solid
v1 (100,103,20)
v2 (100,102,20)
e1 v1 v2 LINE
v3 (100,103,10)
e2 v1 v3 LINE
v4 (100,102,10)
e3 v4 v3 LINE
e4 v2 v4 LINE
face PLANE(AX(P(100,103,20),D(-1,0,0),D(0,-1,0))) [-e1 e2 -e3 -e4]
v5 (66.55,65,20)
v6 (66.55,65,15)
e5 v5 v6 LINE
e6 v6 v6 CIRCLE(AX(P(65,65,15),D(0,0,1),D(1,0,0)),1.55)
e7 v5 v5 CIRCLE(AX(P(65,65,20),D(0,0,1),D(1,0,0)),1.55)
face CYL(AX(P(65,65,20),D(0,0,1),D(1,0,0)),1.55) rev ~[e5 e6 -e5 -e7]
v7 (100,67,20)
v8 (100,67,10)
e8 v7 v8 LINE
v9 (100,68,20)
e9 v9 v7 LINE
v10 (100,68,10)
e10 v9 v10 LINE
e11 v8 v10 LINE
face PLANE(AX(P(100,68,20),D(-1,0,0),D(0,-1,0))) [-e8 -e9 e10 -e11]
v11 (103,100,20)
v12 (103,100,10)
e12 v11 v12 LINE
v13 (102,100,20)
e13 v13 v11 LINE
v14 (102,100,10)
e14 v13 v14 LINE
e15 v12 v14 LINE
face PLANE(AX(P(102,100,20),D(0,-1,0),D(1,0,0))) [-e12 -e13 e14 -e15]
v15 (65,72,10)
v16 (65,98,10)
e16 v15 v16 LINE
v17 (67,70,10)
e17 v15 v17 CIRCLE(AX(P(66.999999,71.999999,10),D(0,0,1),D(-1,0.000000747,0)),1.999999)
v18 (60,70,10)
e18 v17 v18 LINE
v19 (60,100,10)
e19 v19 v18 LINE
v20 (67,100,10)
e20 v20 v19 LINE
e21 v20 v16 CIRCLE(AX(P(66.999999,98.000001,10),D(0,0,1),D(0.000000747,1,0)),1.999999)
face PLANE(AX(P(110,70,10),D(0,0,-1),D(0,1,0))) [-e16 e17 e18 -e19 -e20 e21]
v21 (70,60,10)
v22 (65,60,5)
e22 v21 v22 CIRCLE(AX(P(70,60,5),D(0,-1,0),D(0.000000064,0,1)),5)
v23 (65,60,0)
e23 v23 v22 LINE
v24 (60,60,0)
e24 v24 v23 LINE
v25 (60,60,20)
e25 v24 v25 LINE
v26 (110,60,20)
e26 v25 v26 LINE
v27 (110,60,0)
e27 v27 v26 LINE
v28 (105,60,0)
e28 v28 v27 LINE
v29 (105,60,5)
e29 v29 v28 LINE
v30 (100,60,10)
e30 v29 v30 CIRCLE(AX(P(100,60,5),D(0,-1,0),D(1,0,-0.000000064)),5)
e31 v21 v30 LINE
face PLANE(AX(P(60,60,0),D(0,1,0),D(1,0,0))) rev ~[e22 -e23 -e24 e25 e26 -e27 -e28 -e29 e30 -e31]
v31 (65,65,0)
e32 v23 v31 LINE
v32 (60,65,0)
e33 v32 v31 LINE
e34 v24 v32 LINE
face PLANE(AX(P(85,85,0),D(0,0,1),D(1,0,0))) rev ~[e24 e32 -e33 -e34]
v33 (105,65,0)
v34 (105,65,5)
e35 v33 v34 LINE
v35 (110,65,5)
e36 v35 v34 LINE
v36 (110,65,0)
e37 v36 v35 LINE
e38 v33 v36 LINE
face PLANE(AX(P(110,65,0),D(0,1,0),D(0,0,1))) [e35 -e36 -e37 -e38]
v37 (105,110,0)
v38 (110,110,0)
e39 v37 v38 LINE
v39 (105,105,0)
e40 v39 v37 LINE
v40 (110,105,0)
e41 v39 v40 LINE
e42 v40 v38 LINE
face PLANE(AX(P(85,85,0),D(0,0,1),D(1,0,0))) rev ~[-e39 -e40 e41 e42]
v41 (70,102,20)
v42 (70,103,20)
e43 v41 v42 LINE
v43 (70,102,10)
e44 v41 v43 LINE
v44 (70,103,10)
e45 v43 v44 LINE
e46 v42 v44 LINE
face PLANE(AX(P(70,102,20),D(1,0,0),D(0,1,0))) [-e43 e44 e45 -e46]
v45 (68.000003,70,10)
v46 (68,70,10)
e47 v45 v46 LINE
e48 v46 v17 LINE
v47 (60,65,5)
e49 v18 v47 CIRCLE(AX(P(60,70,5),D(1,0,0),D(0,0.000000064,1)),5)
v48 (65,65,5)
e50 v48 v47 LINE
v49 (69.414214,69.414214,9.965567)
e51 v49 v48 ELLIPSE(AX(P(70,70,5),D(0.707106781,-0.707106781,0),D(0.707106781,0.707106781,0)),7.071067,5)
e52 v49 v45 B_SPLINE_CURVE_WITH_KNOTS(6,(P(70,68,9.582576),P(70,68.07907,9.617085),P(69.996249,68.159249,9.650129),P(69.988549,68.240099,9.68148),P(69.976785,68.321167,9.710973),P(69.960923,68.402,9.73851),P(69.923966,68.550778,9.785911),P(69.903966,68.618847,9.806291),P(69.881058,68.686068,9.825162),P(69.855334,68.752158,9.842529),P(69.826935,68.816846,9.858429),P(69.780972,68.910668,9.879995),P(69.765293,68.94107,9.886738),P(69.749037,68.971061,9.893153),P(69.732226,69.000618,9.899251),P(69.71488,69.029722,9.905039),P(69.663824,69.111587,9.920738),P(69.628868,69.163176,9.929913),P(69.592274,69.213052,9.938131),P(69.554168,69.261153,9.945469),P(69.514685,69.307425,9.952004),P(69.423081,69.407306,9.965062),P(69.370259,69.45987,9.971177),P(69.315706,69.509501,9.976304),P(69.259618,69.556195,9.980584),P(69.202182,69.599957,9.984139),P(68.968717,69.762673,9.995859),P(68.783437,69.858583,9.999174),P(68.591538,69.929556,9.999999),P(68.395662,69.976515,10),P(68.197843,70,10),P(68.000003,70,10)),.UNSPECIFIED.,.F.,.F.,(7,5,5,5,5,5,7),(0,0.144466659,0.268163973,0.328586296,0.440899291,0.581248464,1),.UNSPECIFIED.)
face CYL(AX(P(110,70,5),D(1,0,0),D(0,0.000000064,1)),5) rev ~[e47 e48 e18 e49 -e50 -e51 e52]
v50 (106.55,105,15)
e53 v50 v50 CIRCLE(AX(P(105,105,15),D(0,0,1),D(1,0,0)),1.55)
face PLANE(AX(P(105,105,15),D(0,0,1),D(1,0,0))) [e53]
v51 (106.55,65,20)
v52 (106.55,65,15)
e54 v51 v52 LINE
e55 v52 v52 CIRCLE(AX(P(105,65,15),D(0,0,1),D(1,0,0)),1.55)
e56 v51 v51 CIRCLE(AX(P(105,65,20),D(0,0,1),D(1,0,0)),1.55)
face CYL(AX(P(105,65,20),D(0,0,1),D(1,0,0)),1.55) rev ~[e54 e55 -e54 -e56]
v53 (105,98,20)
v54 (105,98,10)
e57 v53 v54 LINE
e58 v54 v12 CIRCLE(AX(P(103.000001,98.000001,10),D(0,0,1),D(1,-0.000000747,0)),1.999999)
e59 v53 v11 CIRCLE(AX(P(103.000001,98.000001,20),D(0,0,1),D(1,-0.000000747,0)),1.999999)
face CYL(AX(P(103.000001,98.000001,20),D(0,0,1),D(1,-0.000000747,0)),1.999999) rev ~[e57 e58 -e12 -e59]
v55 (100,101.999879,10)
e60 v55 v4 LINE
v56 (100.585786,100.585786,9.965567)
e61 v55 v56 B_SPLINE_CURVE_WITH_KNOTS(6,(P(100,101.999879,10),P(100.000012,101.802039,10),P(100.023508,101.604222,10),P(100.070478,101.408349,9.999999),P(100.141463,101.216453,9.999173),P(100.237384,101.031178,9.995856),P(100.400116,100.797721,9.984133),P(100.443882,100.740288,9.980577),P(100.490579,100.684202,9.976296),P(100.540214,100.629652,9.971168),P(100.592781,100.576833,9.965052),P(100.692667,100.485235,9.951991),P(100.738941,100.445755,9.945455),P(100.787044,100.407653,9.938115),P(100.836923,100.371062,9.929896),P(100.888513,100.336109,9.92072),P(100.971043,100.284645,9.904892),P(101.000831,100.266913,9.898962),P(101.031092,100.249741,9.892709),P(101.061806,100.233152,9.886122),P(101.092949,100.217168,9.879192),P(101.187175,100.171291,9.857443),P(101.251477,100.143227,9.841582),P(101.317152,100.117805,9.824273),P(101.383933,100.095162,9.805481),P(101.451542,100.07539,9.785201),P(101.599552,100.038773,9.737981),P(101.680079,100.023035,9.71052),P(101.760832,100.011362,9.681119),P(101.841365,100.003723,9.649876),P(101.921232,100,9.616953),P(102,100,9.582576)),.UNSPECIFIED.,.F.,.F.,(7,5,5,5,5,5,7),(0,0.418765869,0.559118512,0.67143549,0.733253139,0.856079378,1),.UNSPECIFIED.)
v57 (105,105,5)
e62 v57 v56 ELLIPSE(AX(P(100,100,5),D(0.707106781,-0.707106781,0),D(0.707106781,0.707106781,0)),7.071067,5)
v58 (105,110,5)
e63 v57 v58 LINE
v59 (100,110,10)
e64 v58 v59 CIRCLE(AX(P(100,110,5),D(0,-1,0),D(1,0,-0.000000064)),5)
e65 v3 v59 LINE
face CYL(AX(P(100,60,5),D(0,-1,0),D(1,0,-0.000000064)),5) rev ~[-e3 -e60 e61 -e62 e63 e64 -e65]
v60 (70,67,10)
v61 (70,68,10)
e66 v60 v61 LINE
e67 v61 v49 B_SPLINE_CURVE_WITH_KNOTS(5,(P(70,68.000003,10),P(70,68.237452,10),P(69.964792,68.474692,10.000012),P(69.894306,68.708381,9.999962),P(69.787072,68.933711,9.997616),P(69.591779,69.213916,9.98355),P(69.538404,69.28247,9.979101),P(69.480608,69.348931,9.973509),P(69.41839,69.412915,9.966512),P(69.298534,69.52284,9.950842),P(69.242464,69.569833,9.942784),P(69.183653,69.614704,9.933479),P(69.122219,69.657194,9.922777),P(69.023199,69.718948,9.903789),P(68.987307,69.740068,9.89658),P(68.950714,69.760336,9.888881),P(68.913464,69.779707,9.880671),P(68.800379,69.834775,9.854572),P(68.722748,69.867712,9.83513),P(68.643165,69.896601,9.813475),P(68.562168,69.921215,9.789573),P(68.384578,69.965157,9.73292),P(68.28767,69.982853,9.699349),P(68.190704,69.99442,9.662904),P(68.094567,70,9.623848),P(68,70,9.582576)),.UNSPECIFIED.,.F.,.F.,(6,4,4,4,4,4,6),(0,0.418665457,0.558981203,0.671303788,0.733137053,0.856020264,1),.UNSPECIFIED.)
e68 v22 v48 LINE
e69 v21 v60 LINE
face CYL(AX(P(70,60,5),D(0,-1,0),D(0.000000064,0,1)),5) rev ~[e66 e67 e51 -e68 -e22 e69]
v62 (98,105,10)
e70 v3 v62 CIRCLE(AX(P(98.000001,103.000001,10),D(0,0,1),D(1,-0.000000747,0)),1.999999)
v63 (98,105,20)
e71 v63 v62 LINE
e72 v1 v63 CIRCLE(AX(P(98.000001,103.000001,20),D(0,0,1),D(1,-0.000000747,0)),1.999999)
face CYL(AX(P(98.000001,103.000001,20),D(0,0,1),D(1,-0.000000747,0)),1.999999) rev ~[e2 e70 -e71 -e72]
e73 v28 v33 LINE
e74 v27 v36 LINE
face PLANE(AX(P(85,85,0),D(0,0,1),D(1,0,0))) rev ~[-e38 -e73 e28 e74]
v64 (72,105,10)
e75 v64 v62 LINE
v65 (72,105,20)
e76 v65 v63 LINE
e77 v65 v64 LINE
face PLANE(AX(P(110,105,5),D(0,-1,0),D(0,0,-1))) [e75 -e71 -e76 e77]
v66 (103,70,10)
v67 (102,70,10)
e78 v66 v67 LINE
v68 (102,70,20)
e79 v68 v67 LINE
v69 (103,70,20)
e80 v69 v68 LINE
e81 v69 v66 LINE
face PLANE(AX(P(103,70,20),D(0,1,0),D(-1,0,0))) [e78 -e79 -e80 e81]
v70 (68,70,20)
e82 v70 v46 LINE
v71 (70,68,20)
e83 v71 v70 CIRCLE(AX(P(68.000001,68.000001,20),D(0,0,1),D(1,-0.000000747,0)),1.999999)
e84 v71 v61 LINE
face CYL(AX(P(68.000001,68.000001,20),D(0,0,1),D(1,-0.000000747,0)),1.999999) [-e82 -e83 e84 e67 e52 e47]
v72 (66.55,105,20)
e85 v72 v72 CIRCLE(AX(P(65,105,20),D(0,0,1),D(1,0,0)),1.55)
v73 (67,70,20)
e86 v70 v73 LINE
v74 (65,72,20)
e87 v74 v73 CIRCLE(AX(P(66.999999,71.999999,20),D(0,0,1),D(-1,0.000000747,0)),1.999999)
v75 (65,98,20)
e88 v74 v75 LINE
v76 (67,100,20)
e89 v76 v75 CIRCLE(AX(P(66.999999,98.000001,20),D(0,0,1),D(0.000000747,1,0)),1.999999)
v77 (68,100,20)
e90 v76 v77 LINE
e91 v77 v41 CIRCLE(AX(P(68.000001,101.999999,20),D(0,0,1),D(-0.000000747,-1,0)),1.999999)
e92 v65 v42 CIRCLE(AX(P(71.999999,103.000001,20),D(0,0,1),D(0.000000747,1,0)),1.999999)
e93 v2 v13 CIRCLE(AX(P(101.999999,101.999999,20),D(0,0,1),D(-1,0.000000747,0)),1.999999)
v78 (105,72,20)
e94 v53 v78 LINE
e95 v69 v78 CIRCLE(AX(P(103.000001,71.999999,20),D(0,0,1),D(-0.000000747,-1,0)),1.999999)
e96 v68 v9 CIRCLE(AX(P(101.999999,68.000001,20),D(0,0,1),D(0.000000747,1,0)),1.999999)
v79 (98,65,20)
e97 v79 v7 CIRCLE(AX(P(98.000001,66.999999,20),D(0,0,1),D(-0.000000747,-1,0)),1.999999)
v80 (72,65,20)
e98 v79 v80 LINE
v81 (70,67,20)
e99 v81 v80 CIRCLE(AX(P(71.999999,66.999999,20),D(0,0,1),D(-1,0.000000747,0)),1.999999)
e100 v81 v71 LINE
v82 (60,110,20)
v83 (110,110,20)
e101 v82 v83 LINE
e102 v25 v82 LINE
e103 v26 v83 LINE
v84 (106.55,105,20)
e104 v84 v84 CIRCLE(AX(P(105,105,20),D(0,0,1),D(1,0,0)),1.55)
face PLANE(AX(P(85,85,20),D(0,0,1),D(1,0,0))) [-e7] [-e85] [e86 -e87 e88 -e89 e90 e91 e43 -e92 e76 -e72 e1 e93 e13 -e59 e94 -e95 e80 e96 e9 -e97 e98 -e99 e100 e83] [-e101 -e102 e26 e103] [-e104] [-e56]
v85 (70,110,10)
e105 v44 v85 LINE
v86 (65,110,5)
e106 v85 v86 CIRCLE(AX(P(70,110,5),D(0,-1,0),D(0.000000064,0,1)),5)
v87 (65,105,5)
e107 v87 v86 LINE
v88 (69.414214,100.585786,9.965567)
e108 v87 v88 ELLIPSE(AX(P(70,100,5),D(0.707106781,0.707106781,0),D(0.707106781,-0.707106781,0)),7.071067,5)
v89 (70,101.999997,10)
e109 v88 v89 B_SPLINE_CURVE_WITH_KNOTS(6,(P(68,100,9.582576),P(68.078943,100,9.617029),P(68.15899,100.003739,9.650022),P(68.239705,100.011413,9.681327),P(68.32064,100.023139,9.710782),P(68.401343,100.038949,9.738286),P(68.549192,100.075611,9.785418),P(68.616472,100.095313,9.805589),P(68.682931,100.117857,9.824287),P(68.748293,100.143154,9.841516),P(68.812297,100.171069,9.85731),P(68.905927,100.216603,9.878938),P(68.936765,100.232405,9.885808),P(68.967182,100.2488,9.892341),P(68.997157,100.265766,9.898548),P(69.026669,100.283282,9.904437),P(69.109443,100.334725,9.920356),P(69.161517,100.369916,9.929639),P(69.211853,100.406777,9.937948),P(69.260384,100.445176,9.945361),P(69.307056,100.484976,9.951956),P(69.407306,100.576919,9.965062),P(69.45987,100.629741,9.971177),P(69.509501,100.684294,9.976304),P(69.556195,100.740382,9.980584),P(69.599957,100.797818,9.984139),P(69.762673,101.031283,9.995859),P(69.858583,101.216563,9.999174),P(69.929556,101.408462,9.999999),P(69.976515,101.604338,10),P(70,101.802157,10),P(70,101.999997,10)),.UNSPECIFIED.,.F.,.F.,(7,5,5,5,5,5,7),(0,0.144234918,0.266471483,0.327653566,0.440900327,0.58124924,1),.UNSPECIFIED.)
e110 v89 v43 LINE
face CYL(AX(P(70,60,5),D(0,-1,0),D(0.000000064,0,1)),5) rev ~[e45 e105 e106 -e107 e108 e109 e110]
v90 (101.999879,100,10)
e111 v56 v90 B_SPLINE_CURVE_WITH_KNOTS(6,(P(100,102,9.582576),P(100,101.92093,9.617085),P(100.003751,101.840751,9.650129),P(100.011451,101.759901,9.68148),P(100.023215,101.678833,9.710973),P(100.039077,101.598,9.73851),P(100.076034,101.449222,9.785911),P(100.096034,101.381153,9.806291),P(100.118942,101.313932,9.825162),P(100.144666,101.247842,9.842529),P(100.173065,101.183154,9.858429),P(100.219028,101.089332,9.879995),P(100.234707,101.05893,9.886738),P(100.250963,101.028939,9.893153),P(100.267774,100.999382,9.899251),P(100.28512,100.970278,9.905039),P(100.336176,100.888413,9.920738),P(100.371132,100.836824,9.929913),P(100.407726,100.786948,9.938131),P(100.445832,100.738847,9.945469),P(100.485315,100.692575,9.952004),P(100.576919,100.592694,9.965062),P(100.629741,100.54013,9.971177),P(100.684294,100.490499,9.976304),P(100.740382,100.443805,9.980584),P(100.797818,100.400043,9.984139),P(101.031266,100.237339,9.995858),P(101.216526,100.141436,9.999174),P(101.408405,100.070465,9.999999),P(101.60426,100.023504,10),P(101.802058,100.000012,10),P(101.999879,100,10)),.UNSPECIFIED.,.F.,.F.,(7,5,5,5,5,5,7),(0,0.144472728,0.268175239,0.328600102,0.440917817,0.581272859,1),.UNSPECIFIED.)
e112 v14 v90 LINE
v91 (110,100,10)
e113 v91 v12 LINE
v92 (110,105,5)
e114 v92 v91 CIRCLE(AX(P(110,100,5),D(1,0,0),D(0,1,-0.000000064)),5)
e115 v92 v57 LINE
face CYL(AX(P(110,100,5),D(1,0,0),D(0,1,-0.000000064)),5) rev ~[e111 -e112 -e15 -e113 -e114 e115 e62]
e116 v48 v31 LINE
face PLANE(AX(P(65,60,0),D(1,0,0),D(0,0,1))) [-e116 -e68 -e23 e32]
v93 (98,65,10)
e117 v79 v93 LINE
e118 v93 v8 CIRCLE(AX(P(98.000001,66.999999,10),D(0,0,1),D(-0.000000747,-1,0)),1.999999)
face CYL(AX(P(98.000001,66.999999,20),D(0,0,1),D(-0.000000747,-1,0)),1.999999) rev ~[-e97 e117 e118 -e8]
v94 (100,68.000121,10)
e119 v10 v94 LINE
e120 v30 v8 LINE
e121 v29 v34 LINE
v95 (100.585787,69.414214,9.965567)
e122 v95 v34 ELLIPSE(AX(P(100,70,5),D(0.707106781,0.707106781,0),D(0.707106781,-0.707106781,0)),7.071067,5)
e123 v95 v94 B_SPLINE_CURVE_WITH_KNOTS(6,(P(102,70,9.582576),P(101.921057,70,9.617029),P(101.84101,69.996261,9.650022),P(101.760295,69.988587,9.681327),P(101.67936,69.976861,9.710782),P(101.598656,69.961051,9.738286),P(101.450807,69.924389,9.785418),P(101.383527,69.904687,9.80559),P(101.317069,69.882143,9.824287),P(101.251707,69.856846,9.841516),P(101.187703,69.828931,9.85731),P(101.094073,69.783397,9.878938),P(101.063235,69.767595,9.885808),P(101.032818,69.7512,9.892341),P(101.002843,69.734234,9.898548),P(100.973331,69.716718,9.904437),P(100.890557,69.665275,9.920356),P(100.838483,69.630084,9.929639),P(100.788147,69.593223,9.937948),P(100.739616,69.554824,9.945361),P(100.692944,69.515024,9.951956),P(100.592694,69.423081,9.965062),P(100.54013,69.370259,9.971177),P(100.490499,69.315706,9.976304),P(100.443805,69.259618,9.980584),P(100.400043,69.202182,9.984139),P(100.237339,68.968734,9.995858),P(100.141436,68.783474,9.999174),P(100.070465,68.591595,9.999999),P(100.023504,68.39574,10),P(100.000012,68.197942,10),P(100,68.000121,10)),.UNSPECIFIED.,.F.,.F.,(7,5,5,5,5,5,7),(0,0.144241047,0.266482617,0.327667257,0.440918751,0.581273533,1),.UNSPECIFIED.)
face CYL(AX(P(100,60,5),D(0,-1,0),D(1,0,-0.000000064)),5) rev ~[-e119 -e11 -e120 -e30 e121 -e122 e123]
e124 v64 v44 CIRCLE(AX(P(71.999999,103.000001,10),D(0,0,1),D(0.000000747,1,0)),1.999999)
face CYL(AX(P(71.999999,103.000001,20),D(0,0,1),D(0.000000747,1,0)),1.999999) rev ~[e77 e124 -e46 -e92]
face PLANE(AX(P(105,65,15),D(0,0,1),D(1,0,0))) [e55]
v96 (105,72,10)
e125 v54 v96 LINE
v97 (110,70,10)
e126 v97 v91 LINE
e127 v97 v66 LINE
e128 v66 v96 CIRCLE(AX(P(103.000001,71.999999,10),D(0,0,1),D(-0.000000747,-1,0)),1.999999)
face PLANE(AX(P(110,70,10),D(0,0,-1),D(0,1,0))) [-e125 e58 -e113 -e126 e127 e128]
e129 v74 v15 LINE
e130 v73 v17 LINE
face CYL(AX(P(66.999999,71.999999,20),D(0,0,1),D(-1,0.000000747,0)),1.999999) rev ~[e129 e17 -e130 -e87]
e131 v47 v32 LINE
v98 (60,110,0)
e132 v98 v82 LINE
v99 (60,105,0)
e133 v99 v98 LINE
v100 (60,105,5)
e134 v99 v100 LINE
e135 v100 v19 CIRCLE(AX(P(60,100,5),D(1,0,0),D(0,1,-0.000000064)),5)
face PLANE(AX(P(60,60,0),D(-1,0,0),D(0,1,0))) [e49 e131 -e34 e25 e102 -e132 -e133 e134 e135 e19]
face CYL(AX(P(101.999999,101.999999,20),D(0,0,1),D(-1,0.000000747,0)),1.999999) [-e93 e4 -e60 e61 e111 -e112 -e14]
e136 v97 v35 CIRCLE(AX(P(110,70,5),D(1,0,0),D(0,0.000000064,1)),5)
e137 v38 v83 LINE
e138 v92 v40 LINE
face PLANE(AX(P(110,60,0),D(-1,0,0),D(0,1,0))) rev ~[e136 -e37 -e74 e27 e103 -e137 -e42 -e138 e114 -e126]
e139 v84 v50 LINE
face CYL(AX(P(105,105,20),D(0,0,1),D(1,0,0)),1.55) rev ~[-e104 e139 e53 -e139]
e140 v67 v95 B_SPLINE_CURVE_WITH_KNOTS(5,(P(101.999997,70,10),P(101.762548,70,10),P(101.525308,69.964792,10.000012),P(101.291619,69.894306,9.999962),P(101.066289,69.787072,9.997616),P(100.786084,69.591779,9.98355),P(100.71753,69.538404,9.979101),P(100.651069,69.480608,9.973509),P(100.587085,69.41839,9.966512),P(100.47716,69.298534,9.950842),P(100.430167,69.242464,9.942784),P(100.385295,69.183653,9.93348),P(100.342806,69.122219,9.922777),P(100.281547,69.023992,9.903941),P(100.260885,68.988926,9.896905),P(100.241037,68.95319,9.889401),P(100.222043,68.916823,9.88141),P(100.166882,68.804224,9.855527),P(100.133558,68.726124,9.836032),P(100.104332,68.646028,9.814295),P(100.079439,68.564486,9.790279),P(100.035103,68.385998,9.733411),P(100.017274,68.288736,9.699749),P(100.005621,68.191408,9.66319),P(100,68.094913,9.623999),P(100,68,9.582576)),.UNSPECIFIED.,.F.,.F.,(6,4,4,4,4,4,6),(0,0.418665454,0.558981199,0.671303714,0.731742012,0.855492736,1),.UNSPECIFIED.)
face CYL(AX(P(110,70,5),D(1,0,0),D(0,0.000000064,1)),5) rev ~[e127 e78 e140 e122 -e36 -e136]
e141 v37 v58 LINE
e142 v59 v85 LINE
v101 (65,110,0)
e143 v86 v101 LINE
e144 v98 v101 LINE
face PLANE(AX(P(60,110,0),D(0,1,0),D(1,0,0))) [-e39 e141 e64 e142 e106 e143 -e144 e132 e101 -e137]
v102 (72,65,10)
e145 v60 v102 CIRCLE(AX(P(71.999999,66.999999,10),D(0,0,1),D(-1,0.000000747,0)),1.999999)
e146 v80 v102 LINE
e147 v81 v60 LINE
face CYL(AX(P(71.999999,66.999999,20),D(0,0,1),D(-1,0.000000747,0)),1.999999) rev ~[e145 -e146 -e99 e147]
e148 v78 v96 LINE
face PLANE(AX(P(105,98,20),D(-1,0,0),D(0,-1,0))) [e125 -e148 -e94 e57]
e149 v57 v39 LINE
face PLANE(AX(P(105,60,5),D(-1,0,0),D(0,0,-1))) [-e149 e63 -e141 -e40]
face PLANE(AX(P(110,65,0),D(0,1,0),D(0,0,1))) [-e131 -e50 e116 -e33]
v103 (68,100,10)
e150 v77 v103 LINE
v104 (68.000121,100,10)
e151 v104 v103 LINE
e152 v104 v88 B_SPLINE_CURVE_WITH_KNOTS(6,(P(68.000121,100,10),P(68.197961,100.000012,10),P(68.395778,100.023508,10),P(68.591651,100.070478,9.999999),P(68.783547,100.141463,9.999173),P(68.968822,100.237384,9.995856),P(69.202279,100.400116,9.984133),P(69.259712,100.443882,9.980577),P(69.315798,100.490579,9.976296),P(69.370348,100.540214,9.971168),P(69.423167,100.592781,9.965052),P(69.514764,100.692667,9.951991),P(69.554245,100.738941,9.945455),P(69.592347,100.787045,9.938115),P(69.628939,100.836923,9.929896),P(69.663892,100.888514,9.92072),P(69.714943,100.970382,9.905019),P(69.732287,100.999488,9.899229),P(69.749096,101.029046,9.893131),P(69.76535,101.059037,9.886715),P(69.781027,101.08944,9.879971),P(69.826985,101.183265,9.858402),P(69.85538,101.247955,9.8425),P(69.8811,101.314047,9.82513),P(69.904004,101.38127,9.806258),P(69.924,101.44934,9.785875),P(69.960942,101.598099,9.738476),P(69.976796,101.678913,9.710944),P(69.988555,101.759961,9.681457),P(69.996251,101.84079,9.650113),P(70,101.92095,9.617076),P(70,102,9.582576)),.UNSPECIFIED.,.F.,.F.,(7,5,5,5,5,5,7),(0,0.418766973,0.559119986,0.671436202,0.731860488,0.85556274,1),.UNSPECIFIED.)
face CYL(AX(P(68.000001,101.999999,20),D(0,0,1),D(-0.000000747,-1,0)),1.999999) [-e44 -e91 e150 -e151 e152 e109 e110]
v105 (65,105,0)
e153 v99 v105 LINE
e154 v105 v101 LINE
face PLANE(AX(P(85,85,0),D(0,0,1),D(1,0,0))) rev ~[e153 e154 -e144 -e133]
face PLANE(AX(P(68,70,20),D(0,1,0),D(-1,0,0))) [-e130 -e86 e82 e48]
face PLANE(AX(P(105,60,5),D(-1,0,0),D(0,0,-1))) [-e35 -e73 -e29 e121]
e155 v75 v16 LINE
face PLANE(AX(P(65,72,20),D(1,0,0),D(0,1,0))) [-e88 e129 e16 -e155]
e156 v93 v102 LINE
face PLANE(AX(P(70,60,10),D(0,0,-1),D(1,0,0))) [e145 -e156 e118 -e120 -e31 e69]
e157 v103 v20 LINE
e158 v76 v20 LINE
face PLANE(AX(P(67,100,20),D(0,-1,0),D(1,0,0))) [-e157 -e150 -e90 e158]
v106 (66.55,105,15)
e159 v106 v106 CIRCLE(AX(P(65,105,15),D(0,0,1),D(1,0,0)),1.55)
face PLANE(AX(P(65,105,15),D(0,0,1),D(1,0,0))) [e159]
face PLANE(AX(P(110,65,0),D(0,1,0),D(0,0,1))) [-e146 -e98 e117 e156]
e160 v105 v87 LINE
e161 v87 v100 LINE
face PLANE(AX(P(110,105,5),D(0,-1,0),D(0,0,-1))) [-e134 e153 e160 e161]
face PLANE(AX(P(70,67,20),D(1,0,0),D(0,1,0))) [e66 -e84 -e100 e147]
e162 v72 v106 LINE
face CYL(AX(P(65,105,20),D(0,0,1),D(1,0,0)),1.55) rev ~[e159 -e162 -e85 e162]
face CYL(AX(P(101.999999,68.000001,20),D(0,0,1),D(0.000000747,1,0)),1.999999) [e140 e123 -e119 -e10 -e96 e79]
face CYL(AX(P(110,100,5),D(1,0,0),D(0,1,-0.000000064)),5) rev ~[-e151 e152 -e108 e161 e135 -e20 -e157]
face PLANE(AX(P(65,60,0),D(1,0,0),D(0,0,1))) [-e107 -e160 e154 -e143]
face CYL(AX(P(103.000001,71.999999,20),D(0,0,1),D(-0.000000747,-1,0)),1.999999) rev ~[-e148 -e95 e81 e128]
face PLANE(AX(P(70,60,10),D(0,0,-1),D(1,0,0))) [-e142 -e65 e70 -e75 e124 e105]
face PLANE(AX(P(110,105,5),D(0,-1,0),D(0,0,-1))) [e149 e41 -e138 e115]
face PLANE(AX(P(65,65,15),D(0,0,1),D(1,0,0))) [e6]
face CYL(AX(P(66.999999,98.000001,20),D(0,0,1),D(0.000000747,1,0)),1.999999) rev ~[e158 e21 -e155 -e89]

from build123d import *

# Parameters (mm, degrees)
SKETCH187_W     = 50
SKETCH187_H     = 50
PAD032_DEPTH    = 20
POCKET156_DEPTH = 20.001
POCKET157_DEPTH = 50.001
POCKET158_DEPTH = 50.001
SKETCH191_R     = 1.55
POCKET159_DEPTH = 5


with BuildPart() as part:
    # Sketch187 → Pad032 (new body)
    with BuildSketch(Plane.XY):
        Rectangle(SKETCH187_W, SKETCH187_H)
    extrude(amount=PAD032_DEPTH)

    # Sketch188 (on Face6 of Pad032) → Pocket156 (cut, through all)
    with BuildSketch(Plane.XY.offset(20)):
        with BuildLine():
            Line((-18, 15), (-17, 15))
            ThreePointArc((-17, 15), (-15.585786, 15.585786), (-15, 17))
            Line((-15, 17), (-15, 18))
            ThreePointArc((-13, 20), (-14.414214, 19.414214), (-15, 18))
            Line((-13, 20), (13, 20))
            ThreePointArc((15, 18), (14.414214, 19.414214), (13, 20))
            Line((15, 18), (15, 17))
            ThreePointArc((15, 17), (15.585786, 15.585786), (17, 15))
            Line((17, 15), (18, 15))
            ThreePointArc((20, 13), (19.414214, 14.414214), (18, 15))
            Line((20, 13), (20, -13))
            ThreePointArc((18, -15), (19.414214, -14.414214), (20, -13))
            Line((18, -15), (17, -15))
            ThreePointArc((17, -15), (15.585786, -15.585786), (15, -17))
            Line((15, -17), (15, -18))
            ThreePointArc((13, -20), (14.414214, -19.414214), (15, -18))
            Line((13, -20), (-13, -20))
            ThreePointArc((-15, -18), (-14.414214, -19.414214), (-13, -20))
            Line((-15, -18), (-15, -17))
            ThreePointArc((-15, -17), (-15.585786, -15.585786), (-17, -15))
            Line((-17, -15), (-18, -15))
            ThreePointArc((-20, -13), (-19.414214, -14.414214), (-18, -15))
            Line((-20, -13), (-20, 13))
            ThreePointArc((-18, 15), (-19.414214, 14.414214), (-20, 13))
        make_face()
    extrude(amount=-POCKET156_DEPTH, mode=Mode.SUBTRACT)

    # Sketch189 (on Face3 of Pocket156) → Pocket157 (cut, through all)
    with BuildSketch(Plane.YZ.offset(25)):
        with BuildLine():
            Line((-15, 10), (15, 10))
            ThreePointArc((20, 5), (18.535534, 8.535534), (15, 10))
            Line((20, 5), (20, 0))
            Line((20, 0), (-20, 0))
            Line((-20, 0), (-20, 5))
            ThreePointArc((-15, 10), (-18.535534, 8.535534), (-20, 5))
        make_face()
    extrude(amount=-POCKET157_DEPTH, mode=Mode.SUBTRACT)

    # Sketch190 (on Face6 of Pocket156) → Pocket158 (cut, through all)
    with BuildSketch(Plane.XZ.offset(25)):
        with BuildLine():
            Line((-15, 10), (15, 10))
            ThreePointArc((20, 5), (18.535534, 8.535534), (15, 10))
            Line((20, 5), (20, 0))
            Line((20, 0), (-20, 0))
            Line((-20, 0), (-20, 5))
            ThreePointArc((-15, 10), (-18.535534, 8.535534), (-20, 5))
        make_face()
    extrude(amount=-POCKET158_DEPTH, mode=Mode.SUBTRACT)

    # Sketch191 → Pocket159 (cut)
    with BuildSketch(Plane.XY.offset(20)):
        with Locations((-20, 20)):
            Circle(SKETCH191_R)
        with Locations((20, 20)):
            Circle(SKETCH191_R)
        with Locations((20, -20)):
            Circle(SKETCH191_R)
        with Locations((-20, -20)):
            Circle(SKETCH191_R)
    extrude(amount=-POCKET159_DEPTH, mode=Mode.SUBTRACT)


with BuildPart() as part_1:
    # Body033 placement: moved
    add(part.part.moved(Location((85, 85, 0))))


solid = part_1.part
